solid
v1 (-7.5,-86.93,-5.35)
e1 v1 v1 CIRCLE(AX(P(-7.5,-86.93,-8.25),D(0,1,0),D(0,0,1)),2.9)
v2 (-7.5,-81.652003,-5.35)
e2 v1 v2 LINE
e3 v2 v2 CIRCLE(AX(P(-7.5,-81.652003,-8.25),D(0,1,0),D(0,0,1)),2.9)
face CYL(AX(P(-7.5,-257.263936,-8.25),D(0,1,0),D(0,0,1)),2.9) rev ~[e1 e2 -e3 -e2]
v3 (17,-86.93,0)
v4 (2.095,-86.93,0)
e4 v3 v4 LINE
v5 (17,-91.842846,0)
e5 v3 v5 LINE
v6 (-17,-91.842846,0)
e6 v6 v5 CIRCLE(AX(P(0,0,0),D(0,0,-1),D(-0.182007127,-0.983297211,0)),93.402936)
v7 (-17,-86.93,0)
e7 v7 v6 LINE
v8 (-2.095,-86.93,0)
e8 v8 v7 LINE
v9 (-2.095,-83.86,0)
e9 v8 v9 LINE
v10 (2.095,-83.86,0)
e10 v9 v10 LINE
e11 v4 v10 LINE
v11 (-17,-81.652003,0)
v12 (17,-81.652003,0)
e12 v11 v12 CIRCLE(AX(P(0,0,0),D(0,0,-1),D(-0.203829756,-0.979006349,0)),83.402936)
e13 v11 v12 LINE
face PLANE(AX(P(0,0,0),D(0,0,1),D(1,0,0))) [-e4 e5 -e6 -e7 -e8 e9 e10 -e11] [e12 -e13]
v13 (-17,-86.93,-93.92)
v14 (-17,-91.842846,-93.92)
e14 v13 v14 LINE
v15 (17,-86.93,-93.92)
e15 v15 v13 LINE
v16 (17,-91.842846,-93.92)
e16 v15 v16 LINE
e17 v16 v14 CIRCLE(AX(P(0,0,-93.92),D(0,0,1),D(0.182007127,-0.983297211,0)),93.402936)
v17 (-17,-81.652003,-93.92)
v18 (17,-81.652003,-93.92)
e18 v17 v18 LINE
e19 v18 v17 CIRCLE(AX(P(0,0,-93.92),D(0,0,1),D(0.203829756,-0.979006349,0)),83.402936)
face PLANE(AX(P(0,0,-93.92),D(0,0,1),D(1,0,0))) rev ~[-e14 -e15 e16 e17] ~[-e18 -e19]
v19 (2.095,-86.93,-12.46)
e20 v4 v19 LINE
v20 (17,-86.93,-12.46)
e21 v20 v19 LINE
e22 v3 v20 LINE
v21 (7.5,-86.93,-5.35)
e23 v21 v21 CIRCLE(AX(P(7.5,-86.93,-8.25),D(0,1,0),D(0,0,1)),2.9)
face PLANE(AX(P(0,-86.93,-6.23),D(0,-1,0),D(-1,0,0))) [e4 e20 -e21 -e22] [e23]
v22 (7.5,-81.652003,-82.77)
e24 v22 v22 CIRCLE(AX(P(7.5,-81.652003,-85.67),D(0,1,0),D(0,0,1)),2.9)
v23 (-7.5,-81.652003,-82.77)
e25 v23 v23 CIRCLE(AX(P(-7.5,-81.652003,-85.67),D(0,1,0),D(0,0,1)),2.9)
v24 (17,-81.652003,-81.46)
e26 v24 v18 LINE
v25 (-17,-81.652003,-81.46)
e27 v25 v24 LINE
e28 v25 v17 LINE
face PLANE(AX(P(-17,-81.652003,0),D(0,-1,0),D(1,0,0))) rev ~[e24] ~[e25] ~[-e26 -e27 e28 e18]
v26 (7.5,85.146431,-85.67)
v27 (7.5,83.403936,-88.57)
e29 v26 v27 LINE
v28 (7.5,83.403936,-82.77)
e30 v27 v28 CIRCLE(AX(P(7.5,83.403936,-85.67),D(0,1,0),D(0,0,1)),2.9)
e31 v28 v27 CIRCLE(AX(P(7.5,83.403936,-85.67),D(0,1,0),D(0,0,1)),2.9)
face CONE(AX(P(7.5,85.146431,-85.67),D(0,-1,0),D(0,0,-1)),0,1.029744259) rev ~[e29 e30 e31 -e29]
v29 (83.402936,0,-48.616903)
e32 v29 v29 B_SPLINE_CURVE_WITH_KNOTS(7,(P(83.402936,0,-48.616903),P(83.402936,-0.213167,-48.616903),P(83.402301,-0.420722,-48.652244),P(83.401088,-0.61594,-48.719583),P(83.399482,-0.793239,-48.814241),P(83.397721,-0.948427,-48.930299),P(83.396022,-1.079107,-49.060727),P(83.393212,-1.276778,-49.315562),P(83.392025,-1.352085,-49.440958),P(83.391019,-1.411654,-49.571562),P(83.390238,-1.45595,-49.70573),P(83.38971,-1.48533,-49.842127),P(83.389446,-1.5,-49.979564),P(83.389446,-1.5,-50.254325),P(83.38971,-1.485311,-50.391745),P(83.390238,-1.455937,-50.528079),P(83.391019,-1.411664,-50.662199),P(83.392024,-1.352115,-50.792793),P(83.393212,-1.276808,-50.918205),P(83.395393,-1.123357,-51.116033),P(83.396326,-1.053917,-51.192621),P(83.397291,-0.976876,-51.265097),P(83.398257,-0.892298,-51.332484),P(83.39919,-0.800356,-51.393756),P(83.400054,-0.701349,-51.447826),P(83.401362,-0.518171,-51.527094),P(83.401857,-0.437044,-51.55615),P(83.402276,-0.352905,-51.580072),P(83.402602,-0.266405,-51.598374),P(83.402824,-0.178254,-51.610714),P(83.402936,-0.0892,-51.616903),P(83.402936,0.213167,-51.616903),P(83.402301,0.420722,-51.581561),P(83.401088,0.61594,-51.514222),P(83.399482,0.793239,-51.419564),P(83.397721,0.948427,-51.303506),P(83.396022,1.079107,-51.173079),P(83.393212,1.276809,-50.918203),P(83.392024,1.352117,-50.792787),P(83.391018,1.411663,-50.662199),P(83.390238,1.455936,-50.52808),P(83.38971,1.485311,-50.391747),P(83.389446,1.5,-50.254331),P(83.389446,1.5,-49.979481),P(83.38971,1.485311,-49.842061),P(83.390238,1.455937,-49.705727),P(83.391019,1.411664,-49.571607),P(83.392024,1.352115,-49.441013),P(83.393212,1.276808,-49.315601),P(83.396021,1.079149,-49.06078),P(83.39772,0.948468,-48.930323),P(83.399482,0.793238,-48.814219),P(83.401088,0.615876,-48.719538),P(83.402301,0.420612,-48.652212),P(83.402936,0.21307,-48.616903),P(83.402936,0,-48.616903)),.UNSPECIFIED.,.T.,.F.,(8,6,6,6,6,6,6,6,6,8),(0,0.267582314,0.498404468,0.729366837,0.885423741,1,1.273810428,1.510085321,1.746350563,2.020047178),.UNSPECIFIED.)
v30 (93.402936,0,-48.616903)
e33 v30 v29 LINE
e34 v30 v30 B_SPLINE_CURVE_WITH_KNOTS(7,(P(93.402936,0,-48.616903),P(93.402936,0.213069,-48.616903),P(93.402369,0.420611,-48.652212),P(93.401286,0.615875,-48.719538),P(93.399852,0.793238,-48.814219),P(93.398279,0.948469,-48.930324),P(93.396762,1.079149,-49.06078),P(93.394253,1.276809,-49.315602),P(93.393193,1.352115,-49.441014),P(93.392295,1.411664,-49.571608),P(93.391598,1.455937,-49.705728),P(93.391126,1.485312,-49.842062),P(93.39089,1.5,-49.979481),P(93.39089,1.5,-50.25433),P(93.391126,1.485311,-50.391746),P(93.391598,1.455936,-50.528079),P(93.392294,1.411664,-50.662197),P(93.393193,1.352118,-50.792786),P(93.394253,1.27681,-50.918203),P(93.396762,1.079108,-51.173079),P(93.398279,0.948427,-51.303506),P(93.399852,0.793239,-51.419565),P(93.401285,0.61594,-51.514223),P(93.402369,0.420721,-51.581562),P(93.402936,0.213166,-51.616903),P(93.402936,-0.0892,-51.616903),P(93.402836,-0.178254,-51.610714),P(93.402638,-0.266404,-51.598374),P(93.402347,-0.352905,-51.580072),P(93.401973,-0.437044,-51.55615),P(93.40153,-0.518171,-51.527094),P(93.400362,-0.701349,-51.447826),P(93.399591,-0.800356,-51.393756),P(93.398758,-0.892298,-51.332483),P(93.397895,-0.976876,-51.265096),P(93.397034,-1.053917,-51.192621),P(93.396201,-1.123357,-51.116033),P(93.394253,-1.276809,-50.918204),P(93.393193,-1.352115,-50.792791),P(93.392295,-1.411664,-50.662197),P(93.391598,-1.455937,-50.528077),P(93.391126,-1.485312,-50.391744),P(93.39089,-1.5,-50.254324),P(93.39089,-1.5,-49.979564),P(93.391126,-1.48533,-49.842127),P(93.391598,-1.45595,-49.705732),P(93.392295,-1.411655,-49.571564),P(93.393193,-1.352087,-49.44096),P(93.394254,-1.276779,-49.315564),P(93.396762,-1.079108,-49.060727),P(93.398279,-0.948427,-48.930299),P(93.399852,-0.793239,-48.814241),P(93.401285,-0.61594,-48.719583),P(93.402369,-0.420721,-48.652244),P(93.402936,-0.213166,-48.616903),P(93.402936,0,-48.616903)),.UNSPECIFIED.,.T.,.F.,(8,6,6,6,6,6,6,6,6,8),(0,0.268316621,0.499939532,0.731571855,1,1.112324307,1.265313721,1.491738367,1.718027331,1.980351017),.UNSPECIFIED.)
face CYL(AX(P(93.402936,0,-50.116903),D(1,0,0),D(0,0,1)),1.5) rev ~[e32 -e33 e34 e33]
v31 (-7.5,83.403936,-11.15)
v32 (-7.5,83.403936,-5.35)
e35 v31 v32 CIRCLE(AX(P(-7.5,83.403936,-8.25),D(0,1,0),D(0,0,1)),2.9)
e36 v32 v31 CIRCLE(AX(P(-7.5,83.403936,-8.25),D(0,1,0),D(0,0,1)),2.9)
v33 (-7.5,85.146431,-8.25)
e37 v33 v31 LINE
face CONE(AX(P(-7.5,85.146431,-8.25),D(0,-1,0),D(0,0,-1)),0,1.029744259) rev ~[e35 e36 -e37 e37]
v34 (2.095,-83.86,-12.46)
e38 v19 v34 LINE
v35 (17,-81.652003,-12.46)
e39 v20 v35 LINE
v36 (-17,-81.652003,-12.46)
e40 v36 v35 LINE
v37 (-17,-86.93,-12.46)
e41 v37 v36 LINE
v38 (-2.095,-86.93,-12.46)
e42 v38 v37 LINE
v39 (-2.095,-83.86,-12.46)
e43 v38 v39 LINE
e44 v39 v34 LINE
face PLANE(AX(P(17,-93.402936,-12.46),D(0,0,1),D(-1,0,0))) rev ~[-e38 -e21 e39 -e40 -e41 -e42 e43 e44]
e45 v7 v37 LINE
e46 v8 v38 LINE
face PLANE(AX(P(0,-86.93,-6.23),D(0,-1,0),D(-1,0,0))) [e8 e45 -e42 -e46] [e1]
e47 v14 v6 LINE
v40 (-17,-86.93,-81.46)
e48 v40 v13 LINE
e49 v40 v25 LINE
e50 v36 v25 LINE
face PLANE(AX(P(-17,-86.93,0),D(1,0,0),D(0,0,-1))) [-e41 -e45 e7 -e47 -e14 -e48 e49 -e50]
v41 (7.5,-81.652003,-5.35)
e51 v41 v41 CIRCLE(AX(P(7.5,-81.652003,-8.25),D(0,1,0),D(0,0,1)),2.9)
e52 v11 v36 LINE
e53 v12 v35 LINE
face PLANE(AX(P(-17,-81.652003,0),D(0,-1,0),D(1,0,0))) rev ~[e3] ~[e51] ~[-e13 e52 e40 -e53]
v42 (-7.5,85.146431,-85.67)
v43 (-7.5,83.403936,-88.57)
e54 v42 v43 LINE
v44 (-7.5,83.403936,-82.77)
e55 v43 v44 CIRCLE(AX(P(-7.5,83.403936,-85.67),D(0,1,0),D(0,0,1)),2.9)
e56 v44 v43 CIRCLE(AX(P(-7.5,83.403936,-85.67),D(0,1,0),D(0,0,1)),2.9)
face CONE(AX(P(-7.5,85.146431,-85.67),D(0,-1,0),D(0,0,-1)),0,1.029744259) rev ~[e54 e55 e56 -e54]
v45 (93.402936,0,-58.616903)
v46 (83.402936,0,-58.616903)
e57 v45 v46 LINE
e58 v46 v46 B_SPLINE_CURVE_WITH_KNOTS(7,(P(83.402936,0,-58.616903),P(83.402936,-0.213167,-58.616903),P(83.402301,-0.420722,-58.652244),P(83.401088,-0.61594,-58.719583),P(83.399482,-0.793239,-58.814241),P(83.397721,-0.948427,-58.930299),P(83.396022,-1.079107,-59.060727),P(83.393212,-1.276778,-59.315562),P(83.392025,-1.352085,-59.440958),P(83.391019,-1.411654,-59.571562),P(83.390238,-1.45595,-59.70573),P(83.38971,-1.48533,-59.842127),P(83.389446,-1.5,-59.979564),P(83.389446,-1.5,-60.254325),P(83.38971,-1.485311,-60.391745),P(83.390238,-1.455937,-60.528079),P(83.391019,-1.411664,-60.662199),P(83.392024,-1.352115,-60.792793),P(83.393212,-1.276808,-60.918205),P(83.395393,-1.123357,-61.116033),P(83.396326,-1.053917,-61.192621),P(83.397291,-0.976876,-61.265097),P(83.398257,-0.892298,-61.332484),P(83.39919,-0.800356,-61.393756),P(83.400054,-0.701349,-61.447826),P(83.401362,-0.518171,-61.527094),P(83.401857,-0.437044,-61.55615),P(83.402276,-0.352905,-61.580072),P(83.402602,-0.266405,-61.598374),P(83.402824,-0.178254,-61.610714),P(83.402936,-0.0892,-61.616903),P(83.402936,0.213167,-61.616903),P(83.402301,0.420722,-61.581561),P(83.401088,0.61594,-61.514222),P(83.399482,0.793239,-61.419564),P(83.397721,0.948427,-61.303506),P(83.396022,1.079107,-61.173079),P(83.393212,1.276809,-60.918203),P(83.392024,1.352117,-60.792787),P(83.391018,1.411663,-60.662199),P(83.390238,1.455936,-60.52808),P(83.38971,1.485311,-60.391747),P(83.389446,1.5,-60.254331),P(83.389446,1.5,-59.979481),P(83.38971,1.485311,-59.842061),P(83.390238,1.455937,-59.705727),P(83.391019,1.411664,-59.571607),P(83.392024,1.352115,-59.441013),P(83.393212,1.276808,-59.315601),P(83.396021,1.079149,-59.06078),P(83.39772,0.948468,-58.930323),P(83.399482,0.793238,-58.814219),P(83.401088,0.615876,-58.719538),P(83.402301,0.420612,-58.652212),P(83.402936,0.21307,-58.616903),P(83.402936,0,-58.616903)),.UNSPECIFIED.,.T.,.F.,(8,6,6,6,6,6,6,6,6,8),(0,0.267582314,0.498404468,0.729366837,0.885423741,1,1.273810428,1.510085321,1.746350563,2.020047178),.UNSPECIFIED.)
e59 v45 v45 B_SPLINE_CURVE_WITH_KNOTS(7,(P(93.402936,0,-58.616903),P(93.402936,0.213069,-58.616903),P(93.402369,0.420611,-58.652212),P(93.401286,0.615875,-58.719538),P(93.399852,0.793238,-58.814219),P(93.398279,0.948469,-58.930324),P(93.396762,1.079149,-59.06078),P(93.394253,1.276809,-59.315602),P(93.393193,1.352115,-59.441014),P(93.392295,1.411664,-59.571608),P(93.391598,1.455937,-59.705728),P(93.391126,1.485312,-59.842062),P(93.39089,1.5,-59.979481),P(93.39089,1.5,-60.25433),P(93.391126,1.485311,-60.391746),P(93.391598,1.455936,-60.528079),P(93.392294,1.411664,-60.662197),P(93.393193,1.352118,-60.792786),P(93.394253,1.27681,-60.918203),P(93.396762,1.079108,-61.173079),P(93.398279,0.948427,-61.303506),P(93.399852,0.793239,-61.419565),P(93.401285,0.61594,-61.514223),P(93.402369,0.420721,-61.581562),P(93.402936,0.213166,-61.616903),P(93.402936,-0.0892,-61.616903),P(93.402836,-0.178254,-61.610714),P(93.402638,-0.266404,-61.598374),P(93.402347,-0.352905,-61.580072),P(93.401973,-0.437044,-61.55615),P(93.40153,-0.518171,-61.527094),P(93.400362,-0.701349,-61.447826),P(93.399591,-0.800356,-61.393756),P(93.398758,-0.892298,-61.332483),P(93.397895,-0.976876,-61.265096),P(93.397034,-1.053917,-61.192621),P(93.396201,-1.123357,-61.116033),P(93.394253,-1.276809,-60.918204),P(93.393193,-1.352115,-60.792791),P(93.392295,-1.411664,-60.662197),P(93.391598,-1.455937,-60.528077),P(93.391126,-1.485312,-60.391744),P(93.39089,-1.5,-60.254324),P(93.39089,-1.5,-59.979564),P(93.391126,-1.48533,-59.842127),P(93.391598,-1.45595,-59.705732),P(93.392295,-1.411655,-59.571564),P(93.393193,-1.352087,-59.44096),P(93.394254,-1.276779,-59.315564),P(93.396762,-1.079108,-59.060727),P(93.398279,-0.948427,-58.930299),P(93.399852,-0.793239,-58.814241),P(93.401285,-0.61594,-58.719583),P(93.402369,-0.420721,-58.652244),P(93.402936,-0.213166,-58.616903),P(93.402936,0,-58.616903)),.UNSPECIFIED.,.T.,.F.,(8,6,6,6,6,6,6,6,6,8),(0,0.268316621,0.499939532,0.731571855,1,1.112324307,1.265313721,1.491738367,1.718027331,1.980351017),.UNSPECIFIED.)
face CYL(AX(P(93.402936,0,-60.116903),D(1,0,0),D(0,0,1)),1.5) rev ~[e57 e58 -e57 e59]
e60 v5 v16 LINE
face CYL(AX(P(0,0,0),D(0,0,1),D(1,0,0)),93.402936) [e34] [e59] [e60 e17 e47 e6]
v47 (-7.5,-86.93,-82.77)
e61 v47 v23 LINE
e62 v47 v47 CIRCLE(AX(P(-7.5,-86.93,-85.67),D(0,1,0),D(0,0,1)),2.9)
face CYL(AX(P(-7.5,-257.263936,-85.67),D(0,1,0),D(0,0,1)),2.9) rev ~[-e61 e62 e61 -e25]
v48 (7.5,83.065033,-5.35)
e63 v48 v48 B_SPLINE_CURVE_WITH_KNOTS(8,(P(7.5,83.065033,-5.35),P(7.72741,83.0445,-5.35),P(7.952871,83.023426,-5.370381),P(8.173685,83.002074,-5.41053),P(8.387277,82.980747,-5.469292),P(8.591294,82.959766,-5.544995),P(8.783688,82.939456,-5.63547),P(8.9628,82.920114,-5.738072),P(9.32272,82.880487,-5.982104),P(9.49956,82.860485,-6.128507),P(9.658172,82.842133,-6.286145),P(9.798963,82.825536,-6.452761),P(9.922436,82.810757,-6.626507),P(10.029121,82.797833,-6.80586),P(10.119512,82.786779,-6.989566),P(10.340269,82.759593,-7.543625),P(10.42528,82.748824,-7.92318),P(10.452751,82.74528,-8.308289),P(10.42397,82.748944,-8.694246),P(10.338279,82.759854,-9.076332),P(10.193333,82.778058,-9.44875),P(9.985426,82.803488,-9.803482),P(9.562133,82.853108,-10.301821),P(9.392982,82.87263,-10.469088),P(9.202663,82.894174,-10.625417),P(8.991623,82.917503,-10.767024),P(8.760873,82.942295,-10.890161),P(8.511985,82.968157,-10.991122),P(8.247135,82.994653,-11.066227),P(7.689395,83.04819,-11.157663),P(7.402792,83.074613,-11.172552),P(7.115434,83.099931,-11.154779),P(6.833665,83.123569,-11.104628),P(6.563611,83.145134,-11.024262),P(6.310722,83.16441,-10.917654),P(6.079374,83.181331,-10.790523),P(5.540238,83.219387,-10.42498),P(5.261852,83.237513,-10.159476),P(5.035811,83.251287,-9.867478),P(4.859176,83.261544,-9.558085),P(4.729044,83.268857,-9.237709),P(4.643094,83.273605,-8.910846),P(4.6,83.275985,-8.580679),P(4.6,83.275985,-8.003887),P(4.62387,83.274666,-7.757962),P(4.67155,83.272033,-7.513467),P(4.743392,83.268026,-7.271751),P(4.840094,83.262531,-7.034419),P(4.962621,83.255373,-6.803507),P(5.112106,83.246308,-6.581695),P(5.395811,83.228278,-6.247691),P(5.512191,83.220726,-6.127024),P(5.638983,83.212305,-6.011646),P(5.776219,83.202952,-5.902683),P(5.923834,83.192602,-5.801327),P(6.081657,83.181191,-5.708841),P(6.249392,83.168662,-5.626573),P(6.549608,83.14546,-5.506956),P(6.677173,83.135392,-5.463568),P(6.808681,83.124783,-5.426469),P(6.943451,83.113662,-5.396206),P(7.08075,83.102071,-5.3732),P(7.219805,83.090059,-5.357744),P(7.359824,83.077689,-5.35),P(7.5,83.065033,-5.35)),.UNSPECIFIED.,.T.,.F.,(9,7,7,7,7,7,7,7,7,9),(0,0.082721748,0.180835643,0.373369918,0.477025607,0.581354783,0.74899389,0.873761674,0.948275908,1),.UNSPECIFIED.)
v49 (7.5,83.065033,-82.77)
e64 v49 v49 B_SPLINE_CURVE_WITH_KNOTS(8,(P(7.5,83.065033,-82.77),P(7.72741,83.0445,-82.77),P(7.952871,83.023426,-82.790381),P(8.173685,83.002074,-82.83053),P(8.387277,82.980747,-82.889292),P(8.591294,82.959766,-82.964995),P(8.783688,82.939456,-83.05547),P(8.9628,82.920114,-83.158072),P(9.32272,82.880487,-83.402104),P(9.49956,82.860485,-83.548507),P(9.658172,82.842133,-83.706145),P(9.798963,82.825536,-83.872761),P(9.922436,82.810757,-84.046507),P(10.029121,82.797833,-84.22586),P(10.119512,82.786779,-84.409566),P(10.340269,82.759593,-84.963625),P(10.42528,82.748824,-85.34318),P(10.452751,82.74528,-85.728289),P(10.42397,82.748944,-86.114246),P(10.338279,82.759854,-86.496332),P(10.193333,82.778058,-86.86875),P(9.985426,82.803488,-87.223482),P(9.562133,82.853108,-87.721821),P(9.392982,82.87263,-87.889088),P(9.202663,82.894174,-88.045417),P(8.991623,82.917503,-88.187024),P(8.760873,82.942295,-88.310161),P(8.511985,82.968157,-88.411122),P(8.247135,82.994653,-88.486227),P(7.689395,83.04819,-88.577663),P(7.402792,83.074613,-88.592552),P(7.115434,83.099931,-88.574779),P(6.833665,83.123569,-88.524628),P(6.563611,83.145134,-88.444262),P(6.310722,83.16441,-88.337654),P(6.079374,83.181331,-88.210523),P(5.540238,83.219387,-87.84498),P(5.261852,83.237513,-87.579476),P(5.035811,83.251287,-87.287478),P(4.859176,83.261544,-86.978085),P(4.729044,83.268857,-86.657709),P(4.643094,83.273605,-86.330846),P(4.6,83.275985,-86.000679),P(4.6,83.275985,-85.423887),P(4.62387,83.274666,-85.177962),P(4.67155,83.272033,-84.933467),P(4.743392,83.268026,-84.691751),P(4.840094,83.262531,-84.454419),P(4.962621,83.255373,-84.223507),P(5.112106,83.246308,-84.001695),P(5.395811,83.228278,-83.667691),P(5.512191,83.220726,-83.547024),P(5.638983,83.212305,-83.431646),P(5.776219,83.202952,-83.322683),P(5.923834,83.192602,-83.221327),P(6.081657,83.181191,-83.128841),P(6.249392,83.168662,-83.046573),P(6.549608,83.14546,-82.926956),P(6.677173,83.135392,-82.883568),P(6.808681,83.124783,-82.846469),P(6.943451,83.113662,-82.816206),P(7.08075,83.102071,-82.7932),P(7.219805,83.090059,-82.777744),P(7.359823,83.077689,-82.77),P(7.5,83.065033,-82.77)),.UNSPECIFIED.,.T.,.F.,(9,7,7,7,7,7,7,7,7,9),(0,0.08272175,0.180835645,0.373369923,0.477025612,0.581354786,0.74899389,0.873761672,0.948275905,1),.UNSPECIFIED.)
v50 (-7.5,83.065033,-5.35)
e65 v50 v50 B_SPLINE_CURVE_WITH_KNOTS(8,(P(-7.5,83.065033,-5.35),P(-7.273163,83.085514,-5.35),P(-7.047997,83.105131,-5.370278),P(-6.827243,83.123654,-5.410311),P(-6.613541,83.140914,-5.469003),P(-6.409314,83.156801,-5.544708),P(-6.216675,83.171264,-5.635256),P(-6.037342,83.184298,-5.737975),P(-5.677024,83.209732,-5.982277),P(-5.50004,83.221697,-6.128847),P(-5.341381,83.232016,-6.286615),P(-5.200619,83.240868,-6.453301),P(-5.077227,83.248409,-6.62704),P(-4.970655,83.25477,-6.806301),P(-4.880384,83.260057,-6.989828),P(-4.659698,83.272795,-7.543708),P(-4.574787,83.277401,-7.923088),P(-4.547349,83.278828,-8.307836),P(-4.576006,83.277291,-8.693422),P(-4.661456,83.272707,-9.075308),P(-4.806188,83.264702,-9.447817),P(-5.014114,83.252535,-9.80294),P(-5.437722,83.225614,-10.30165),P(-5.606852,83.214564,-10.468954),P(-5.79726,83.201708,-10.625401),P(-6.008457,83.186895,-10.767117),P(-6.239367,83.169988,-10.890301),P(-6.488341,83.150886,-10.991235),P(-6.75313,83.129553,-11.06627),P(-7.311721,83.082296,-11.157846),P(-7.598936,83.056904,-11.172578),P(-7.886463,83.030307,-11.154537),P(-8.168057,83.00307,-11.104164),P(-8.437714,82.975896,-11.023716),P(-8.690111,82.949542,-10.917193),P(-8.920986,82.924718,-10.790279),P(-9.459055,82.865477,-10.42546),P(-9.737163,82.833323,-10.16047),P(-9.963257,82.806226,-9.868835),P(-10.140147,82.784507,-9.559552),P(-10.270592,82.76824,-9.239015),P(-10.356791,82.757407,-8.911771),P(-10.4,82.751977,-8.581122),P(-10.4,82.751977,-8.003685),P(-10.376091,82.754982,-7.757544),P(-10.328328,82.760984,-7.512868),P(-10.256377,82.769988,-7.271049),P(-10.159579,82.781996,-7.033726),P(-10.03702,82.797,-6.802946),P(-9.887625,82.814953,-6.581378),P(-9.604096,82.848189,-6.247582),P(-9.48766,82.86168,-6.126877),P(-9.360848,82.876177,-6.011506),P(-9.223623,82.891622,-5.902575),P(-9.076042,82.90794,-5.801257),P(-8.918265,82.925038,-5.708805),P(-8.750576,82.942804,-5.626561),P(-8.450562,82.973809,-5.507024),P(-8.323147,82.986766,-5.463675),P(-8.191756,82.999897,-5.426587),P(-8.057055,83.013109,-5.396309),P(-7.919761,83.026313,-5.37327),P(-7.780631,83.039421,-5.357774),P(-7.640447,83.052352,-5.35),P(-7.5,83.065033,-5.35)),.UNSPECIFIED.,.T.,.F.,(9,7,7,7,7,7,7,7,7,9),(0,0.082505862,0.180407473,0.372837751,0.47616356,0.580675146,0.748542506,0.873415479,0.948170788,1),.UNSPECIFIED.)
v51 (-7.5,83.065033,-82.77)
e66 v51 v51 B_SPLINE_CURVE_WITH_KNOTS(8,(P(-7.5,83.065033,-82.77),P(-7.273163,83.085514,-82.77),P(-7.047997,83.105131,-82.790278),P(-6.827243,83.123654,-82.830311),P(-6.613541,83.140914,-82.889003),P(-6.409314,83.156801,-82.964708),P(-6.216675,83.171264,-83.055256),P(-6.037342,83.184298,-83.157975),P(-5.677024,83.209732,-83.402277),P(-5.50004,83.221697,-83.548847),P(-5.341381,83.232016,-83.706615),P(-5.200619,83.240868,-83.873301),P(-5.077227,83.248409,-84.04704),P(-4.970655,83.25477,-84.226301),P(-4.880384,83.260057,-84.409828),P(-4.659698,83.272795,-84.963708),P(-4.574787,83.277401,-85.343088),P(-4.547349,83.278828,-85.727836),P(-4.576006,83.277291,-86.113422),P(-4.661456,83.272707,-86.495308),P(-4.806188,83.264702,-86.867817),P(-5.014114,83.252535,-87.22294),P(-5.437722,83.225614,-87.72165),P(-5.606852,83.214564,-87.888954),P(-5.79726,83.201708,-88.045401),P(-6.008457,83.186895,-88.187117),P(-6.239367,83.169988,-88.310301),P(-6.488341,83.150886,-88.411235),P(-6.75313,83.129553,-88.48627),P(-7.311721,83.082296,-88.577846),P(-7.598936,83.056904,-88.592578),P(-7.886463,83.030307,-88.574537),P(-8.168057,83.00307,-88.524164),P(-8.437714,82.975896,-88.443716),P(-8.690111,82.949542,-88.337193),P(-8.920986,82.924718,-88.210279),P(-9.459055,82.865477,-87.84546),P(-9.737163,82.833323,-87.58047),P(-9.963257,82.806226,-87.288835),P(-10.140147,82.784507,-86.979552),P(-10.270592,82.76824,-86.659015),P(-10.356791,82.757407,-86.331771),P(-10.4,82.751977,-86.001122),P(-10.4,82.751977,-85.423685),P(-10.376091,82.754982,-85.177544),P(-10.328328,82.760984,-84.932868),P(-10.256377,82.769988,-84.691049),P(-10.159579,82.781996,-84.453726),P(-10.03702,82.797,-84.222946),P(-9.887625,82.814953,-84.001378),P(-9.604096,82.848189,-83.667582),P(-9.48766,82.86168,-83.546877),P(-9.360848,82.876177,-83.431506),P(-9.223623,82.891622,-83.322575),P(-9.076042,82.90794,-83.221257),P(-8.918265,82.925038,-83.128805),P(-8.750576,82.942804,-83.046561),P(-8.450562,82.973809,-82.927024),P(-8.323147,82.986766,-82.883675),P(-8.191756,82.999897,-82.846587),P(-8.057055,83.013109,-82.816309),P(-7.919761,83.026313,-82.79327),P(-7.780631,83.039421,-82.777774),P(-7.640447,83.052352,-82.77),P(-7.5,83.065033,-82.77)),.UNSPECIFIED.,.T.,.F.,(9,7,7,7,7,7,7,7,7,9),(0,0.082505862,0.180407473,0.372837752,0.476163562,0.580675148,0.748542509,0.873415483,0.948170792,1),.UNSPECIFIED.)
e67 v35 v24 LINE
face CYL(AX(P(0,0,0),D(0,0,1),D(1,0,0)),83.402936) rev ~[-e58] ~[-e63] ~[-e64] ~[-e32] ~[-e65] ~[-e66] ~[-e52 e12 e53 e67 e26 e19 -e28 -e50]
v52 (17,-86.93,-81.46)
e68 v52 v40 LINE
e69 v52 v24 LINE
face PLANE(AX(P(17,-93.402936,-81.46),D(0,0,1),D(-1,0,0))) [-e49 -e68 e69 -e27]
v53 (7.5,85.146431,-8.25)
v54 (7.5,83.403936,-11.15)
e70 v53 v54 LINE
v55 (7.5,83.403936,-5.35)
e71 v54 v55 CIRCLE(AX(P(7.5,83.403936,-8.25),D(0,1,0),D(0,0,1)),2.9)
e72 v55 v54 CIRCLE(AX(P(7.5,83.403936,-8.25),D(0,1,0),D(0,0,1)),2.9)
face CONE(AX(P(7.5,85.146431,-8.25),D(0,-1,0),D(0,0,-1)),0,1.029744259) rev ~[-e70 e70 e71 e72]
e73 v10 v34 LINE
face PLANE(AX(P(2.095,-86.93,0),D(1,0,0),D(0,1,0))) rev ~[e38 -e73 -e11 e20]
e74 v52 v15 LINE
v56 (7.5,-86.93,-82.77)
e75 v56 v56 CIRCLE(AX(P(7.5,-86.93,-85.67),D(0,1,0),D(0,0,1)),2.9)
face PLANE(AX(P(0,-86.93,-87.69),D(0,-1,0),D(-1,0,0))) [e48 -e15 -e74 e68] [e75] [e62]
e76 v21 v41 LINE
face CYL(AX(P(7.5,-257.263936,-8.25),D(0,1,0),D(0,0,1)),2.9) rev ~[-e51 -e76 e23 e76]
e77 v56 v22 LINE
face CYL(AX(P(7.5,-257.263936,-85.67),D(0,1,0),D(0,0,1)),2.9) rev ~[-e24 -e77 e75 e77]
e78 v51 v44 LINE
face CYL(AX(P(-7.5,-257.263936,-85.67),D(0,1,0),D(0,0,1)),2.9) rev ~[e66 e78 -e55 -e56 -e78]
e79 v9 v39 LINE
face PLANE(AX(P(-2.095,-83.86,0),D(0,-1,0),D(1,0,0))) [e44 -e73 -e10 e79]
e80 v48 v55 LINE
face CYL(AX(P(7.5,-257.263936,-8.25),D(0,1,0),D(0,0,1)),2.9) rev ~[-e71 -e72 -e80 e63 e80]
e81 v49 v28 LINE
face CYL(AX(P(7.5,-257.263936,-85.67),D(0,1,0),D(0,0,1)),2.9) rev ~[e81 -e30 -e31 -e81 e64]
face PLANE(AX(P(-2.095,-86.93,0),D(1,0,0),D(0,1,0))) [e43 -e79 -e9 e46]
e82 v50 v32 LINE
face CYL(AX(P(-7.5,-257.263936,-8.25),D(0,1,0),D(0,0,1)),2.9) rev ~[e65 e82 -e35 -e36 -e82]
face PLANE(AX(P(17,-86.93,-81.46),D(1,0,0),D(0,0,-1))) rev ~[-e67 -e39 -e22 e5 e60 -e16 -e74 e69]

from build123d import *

# Parameters (mm, degrees)
SKETCH1_R                 = 93.40293561
SKETCH1_R_2               = 83.40293561
BOSS_EXTRUDE1_DEPTH       = 93.92
BOSS_EXTRUDE3_DEPTH       = 93.92
CUT_EXTRUDE1_REACH        = 231.001
SKETCH2_W                 = 34
SKETCH2_H                 = 69
CUT_EXTRUDE2_START        = -6.472936
SKETCH3_W                 = 34
SKETCH3_H                 = 12.46
CUT_EXTRUDE2_DEPTH        = 6.472936
M5_CLEARANCE_HOLE1_D      = 5.8
M5_CLEARANCE_HOLE1_DEPTH  = 170.33393561
M5_CLEARANCE_HOLE1_TIP    = 1.742495795
SKETCH8_W                 = 4.19
SKETCH8_H                 = 3.07
CUT_EXTRUDE3_DEPTH        = 12.46
M6_CLEARANCE_HOLE1_REACH  = 219.335
M6_CLEARANCE_HOLE1_BORE_R = 1.5


with BuildPart() as part:
    # Sketch1 → Boss-Extrude1 (new body)
    with BuildSketch(Plane.XY):
        Circle(SKETCH1_R)
        Circle(SKETCH1_R_2, mode=Mode.SUBTRACT)
    extrude(amount=-BOSS_EXTRUDE1_DEPTH)

    # Sketch7 → Boss-Extrude3 (add)
    with BuildSketch(Plane.XY):
        with BuildLine():
            Line((-17, -81.652003456), (17, -81.652003456))
            ThreePointArc((17, -81.652003456), (0, -83.40293561), (-17, -81.652003456))
        make_face()
    extrude(amount=-BOSS_EXTRUDE3_DEPTH)

    # Sketch2 → Cut-Extrude1 (cut, up to next)
    with BuildSketch(Plane(origin=(0, -93.40293561, 0), x_dir=(-1, 0, 0), z_dir=(0, -1, 0)), mode=Mode.PRIVATE) as cut_extrude1_sk1:
        with Locations((0, 46.96)):
            Rectangle(SKETCH2_W, SKETCH2_H)
    cut_extrude1_tool1 = extrude(cut_extrude1_sk1.sketch, amount=-CUT_EXTRUDE1_REACH, mode=Mode.PRIVATE) & part.part
    add(cut_extrude1_tool1.solids().sort_by_distance((0, -93.402936, -46.96))[0], mode=Mode.SUBTRACT)

    # Sketch3 → Cut-Extrude2 (cut)
    with BuildSketch(Plane(origin=(0, -93.40293561, 0), x_dir=(-1, 0, 0), z_dir=(0, -1, 0)).offset(CUT_EXTRUDE2_START)):
        with Locations((0, 87.69)):
            Rectangle(SKETCH3_W, SKETCH3_H)
        with Locations((0, 6.23)):
            Rectangle(SKETCH3_W, SKETCH3_H)
    extrude(amount=CUT_EXTRUDE2_DEPTH, mode=Mode.SUBTRACT)

    # M5 Clearance Hole1
    with Locations(Plane(origin=(-7.5, -86.93, -8.25), x_dir=(0, 0, -1), z_dir=(0, -1, 0))):
        with Locations((0, 0), (0, 15), (77.42, 0), (77.42, 15)):
            Hole(M5_CLEARANCE_HOLE1_D / 2, depth=M5_CLEARANCE_HOLE1_DEPTH)
            with Locations((0, 0, -(M5_CLEARANCE_HOLE1_DEPTH + M5_CLEARANCE_HOLE1_TIP / 2))):  # 118° drill point
                Cone(0, M5_CLEARANCE_HOLE1_D / 2, M5_CLEARANCE_HOLE1_TIP, mode=Mode.SUBTRACT)

    # Sketch8 → Cut-Extrude3 (cut)
    with BuildSketch(Plane.XY):
        with Locations((0, -85.395)):
            Rectangle(SKETCH8_W, SKETCH8_H)
    extrude(amount=-CUT_EXTRUDE3_DEPTH, mode=Mode.SUBTRACT)

    # M6 Clearance Hole1 bore (on position points) → M6 Clearance Hole1 (cut, up to next)
    with BuildSketch(Plane(origin=(93.40293561, 0, -60.116902822), x_dir=(0, 0, 1), z_dir=(1, 0, 0)), mode=Mode.PRIVATE) as m6_clearance_hole1_sk1:
        Circle(M6_CLEARANCE_HOLE1_BORE_R)
    m6_clearance_hole1_tool1 = extrude(m6_clearance_hole1_sk1.sketch, amount=-M6_CLEARANCE_HOLE1_REACH, mode=Mode.PRIVATE) & part.part
    # M6 Clearance Hole1 bore (on position points) → M6 Clearance Hole1 (cut, up to next)
    with BuildSketch(Plane(origin=(93.40293561, 0, -60.116902822), x_dir=(0, 0, 1), z_dir=(1, 0, 0)), mode=Mode.PRIVATE) as m6_clearance_hole1_sk2:
        with Locations((10, 0)):
            Circle(M6_CLEARANCE_HOLE1_BORE_R)
    m6_clearance_hole1_tool2 = extrude(m6_clearance_hole1_sk2.sketch, amount=-M6_CLEARANCE_HOLE1_REACH, mode=Mode.PRIVATE) & part.part
    add(m6_clearance_hole1_tool1.solids().sort_by_distance((93.402936, 0, -60.116903))[0], mode=Mode.SUBTRACT)
    add(m6_clearance_hole1_tool2.solids().sort_by_distance((93.402936, 0, -50.116903))[0], mode=Mode.SUBTRACT)


solid = part.part
